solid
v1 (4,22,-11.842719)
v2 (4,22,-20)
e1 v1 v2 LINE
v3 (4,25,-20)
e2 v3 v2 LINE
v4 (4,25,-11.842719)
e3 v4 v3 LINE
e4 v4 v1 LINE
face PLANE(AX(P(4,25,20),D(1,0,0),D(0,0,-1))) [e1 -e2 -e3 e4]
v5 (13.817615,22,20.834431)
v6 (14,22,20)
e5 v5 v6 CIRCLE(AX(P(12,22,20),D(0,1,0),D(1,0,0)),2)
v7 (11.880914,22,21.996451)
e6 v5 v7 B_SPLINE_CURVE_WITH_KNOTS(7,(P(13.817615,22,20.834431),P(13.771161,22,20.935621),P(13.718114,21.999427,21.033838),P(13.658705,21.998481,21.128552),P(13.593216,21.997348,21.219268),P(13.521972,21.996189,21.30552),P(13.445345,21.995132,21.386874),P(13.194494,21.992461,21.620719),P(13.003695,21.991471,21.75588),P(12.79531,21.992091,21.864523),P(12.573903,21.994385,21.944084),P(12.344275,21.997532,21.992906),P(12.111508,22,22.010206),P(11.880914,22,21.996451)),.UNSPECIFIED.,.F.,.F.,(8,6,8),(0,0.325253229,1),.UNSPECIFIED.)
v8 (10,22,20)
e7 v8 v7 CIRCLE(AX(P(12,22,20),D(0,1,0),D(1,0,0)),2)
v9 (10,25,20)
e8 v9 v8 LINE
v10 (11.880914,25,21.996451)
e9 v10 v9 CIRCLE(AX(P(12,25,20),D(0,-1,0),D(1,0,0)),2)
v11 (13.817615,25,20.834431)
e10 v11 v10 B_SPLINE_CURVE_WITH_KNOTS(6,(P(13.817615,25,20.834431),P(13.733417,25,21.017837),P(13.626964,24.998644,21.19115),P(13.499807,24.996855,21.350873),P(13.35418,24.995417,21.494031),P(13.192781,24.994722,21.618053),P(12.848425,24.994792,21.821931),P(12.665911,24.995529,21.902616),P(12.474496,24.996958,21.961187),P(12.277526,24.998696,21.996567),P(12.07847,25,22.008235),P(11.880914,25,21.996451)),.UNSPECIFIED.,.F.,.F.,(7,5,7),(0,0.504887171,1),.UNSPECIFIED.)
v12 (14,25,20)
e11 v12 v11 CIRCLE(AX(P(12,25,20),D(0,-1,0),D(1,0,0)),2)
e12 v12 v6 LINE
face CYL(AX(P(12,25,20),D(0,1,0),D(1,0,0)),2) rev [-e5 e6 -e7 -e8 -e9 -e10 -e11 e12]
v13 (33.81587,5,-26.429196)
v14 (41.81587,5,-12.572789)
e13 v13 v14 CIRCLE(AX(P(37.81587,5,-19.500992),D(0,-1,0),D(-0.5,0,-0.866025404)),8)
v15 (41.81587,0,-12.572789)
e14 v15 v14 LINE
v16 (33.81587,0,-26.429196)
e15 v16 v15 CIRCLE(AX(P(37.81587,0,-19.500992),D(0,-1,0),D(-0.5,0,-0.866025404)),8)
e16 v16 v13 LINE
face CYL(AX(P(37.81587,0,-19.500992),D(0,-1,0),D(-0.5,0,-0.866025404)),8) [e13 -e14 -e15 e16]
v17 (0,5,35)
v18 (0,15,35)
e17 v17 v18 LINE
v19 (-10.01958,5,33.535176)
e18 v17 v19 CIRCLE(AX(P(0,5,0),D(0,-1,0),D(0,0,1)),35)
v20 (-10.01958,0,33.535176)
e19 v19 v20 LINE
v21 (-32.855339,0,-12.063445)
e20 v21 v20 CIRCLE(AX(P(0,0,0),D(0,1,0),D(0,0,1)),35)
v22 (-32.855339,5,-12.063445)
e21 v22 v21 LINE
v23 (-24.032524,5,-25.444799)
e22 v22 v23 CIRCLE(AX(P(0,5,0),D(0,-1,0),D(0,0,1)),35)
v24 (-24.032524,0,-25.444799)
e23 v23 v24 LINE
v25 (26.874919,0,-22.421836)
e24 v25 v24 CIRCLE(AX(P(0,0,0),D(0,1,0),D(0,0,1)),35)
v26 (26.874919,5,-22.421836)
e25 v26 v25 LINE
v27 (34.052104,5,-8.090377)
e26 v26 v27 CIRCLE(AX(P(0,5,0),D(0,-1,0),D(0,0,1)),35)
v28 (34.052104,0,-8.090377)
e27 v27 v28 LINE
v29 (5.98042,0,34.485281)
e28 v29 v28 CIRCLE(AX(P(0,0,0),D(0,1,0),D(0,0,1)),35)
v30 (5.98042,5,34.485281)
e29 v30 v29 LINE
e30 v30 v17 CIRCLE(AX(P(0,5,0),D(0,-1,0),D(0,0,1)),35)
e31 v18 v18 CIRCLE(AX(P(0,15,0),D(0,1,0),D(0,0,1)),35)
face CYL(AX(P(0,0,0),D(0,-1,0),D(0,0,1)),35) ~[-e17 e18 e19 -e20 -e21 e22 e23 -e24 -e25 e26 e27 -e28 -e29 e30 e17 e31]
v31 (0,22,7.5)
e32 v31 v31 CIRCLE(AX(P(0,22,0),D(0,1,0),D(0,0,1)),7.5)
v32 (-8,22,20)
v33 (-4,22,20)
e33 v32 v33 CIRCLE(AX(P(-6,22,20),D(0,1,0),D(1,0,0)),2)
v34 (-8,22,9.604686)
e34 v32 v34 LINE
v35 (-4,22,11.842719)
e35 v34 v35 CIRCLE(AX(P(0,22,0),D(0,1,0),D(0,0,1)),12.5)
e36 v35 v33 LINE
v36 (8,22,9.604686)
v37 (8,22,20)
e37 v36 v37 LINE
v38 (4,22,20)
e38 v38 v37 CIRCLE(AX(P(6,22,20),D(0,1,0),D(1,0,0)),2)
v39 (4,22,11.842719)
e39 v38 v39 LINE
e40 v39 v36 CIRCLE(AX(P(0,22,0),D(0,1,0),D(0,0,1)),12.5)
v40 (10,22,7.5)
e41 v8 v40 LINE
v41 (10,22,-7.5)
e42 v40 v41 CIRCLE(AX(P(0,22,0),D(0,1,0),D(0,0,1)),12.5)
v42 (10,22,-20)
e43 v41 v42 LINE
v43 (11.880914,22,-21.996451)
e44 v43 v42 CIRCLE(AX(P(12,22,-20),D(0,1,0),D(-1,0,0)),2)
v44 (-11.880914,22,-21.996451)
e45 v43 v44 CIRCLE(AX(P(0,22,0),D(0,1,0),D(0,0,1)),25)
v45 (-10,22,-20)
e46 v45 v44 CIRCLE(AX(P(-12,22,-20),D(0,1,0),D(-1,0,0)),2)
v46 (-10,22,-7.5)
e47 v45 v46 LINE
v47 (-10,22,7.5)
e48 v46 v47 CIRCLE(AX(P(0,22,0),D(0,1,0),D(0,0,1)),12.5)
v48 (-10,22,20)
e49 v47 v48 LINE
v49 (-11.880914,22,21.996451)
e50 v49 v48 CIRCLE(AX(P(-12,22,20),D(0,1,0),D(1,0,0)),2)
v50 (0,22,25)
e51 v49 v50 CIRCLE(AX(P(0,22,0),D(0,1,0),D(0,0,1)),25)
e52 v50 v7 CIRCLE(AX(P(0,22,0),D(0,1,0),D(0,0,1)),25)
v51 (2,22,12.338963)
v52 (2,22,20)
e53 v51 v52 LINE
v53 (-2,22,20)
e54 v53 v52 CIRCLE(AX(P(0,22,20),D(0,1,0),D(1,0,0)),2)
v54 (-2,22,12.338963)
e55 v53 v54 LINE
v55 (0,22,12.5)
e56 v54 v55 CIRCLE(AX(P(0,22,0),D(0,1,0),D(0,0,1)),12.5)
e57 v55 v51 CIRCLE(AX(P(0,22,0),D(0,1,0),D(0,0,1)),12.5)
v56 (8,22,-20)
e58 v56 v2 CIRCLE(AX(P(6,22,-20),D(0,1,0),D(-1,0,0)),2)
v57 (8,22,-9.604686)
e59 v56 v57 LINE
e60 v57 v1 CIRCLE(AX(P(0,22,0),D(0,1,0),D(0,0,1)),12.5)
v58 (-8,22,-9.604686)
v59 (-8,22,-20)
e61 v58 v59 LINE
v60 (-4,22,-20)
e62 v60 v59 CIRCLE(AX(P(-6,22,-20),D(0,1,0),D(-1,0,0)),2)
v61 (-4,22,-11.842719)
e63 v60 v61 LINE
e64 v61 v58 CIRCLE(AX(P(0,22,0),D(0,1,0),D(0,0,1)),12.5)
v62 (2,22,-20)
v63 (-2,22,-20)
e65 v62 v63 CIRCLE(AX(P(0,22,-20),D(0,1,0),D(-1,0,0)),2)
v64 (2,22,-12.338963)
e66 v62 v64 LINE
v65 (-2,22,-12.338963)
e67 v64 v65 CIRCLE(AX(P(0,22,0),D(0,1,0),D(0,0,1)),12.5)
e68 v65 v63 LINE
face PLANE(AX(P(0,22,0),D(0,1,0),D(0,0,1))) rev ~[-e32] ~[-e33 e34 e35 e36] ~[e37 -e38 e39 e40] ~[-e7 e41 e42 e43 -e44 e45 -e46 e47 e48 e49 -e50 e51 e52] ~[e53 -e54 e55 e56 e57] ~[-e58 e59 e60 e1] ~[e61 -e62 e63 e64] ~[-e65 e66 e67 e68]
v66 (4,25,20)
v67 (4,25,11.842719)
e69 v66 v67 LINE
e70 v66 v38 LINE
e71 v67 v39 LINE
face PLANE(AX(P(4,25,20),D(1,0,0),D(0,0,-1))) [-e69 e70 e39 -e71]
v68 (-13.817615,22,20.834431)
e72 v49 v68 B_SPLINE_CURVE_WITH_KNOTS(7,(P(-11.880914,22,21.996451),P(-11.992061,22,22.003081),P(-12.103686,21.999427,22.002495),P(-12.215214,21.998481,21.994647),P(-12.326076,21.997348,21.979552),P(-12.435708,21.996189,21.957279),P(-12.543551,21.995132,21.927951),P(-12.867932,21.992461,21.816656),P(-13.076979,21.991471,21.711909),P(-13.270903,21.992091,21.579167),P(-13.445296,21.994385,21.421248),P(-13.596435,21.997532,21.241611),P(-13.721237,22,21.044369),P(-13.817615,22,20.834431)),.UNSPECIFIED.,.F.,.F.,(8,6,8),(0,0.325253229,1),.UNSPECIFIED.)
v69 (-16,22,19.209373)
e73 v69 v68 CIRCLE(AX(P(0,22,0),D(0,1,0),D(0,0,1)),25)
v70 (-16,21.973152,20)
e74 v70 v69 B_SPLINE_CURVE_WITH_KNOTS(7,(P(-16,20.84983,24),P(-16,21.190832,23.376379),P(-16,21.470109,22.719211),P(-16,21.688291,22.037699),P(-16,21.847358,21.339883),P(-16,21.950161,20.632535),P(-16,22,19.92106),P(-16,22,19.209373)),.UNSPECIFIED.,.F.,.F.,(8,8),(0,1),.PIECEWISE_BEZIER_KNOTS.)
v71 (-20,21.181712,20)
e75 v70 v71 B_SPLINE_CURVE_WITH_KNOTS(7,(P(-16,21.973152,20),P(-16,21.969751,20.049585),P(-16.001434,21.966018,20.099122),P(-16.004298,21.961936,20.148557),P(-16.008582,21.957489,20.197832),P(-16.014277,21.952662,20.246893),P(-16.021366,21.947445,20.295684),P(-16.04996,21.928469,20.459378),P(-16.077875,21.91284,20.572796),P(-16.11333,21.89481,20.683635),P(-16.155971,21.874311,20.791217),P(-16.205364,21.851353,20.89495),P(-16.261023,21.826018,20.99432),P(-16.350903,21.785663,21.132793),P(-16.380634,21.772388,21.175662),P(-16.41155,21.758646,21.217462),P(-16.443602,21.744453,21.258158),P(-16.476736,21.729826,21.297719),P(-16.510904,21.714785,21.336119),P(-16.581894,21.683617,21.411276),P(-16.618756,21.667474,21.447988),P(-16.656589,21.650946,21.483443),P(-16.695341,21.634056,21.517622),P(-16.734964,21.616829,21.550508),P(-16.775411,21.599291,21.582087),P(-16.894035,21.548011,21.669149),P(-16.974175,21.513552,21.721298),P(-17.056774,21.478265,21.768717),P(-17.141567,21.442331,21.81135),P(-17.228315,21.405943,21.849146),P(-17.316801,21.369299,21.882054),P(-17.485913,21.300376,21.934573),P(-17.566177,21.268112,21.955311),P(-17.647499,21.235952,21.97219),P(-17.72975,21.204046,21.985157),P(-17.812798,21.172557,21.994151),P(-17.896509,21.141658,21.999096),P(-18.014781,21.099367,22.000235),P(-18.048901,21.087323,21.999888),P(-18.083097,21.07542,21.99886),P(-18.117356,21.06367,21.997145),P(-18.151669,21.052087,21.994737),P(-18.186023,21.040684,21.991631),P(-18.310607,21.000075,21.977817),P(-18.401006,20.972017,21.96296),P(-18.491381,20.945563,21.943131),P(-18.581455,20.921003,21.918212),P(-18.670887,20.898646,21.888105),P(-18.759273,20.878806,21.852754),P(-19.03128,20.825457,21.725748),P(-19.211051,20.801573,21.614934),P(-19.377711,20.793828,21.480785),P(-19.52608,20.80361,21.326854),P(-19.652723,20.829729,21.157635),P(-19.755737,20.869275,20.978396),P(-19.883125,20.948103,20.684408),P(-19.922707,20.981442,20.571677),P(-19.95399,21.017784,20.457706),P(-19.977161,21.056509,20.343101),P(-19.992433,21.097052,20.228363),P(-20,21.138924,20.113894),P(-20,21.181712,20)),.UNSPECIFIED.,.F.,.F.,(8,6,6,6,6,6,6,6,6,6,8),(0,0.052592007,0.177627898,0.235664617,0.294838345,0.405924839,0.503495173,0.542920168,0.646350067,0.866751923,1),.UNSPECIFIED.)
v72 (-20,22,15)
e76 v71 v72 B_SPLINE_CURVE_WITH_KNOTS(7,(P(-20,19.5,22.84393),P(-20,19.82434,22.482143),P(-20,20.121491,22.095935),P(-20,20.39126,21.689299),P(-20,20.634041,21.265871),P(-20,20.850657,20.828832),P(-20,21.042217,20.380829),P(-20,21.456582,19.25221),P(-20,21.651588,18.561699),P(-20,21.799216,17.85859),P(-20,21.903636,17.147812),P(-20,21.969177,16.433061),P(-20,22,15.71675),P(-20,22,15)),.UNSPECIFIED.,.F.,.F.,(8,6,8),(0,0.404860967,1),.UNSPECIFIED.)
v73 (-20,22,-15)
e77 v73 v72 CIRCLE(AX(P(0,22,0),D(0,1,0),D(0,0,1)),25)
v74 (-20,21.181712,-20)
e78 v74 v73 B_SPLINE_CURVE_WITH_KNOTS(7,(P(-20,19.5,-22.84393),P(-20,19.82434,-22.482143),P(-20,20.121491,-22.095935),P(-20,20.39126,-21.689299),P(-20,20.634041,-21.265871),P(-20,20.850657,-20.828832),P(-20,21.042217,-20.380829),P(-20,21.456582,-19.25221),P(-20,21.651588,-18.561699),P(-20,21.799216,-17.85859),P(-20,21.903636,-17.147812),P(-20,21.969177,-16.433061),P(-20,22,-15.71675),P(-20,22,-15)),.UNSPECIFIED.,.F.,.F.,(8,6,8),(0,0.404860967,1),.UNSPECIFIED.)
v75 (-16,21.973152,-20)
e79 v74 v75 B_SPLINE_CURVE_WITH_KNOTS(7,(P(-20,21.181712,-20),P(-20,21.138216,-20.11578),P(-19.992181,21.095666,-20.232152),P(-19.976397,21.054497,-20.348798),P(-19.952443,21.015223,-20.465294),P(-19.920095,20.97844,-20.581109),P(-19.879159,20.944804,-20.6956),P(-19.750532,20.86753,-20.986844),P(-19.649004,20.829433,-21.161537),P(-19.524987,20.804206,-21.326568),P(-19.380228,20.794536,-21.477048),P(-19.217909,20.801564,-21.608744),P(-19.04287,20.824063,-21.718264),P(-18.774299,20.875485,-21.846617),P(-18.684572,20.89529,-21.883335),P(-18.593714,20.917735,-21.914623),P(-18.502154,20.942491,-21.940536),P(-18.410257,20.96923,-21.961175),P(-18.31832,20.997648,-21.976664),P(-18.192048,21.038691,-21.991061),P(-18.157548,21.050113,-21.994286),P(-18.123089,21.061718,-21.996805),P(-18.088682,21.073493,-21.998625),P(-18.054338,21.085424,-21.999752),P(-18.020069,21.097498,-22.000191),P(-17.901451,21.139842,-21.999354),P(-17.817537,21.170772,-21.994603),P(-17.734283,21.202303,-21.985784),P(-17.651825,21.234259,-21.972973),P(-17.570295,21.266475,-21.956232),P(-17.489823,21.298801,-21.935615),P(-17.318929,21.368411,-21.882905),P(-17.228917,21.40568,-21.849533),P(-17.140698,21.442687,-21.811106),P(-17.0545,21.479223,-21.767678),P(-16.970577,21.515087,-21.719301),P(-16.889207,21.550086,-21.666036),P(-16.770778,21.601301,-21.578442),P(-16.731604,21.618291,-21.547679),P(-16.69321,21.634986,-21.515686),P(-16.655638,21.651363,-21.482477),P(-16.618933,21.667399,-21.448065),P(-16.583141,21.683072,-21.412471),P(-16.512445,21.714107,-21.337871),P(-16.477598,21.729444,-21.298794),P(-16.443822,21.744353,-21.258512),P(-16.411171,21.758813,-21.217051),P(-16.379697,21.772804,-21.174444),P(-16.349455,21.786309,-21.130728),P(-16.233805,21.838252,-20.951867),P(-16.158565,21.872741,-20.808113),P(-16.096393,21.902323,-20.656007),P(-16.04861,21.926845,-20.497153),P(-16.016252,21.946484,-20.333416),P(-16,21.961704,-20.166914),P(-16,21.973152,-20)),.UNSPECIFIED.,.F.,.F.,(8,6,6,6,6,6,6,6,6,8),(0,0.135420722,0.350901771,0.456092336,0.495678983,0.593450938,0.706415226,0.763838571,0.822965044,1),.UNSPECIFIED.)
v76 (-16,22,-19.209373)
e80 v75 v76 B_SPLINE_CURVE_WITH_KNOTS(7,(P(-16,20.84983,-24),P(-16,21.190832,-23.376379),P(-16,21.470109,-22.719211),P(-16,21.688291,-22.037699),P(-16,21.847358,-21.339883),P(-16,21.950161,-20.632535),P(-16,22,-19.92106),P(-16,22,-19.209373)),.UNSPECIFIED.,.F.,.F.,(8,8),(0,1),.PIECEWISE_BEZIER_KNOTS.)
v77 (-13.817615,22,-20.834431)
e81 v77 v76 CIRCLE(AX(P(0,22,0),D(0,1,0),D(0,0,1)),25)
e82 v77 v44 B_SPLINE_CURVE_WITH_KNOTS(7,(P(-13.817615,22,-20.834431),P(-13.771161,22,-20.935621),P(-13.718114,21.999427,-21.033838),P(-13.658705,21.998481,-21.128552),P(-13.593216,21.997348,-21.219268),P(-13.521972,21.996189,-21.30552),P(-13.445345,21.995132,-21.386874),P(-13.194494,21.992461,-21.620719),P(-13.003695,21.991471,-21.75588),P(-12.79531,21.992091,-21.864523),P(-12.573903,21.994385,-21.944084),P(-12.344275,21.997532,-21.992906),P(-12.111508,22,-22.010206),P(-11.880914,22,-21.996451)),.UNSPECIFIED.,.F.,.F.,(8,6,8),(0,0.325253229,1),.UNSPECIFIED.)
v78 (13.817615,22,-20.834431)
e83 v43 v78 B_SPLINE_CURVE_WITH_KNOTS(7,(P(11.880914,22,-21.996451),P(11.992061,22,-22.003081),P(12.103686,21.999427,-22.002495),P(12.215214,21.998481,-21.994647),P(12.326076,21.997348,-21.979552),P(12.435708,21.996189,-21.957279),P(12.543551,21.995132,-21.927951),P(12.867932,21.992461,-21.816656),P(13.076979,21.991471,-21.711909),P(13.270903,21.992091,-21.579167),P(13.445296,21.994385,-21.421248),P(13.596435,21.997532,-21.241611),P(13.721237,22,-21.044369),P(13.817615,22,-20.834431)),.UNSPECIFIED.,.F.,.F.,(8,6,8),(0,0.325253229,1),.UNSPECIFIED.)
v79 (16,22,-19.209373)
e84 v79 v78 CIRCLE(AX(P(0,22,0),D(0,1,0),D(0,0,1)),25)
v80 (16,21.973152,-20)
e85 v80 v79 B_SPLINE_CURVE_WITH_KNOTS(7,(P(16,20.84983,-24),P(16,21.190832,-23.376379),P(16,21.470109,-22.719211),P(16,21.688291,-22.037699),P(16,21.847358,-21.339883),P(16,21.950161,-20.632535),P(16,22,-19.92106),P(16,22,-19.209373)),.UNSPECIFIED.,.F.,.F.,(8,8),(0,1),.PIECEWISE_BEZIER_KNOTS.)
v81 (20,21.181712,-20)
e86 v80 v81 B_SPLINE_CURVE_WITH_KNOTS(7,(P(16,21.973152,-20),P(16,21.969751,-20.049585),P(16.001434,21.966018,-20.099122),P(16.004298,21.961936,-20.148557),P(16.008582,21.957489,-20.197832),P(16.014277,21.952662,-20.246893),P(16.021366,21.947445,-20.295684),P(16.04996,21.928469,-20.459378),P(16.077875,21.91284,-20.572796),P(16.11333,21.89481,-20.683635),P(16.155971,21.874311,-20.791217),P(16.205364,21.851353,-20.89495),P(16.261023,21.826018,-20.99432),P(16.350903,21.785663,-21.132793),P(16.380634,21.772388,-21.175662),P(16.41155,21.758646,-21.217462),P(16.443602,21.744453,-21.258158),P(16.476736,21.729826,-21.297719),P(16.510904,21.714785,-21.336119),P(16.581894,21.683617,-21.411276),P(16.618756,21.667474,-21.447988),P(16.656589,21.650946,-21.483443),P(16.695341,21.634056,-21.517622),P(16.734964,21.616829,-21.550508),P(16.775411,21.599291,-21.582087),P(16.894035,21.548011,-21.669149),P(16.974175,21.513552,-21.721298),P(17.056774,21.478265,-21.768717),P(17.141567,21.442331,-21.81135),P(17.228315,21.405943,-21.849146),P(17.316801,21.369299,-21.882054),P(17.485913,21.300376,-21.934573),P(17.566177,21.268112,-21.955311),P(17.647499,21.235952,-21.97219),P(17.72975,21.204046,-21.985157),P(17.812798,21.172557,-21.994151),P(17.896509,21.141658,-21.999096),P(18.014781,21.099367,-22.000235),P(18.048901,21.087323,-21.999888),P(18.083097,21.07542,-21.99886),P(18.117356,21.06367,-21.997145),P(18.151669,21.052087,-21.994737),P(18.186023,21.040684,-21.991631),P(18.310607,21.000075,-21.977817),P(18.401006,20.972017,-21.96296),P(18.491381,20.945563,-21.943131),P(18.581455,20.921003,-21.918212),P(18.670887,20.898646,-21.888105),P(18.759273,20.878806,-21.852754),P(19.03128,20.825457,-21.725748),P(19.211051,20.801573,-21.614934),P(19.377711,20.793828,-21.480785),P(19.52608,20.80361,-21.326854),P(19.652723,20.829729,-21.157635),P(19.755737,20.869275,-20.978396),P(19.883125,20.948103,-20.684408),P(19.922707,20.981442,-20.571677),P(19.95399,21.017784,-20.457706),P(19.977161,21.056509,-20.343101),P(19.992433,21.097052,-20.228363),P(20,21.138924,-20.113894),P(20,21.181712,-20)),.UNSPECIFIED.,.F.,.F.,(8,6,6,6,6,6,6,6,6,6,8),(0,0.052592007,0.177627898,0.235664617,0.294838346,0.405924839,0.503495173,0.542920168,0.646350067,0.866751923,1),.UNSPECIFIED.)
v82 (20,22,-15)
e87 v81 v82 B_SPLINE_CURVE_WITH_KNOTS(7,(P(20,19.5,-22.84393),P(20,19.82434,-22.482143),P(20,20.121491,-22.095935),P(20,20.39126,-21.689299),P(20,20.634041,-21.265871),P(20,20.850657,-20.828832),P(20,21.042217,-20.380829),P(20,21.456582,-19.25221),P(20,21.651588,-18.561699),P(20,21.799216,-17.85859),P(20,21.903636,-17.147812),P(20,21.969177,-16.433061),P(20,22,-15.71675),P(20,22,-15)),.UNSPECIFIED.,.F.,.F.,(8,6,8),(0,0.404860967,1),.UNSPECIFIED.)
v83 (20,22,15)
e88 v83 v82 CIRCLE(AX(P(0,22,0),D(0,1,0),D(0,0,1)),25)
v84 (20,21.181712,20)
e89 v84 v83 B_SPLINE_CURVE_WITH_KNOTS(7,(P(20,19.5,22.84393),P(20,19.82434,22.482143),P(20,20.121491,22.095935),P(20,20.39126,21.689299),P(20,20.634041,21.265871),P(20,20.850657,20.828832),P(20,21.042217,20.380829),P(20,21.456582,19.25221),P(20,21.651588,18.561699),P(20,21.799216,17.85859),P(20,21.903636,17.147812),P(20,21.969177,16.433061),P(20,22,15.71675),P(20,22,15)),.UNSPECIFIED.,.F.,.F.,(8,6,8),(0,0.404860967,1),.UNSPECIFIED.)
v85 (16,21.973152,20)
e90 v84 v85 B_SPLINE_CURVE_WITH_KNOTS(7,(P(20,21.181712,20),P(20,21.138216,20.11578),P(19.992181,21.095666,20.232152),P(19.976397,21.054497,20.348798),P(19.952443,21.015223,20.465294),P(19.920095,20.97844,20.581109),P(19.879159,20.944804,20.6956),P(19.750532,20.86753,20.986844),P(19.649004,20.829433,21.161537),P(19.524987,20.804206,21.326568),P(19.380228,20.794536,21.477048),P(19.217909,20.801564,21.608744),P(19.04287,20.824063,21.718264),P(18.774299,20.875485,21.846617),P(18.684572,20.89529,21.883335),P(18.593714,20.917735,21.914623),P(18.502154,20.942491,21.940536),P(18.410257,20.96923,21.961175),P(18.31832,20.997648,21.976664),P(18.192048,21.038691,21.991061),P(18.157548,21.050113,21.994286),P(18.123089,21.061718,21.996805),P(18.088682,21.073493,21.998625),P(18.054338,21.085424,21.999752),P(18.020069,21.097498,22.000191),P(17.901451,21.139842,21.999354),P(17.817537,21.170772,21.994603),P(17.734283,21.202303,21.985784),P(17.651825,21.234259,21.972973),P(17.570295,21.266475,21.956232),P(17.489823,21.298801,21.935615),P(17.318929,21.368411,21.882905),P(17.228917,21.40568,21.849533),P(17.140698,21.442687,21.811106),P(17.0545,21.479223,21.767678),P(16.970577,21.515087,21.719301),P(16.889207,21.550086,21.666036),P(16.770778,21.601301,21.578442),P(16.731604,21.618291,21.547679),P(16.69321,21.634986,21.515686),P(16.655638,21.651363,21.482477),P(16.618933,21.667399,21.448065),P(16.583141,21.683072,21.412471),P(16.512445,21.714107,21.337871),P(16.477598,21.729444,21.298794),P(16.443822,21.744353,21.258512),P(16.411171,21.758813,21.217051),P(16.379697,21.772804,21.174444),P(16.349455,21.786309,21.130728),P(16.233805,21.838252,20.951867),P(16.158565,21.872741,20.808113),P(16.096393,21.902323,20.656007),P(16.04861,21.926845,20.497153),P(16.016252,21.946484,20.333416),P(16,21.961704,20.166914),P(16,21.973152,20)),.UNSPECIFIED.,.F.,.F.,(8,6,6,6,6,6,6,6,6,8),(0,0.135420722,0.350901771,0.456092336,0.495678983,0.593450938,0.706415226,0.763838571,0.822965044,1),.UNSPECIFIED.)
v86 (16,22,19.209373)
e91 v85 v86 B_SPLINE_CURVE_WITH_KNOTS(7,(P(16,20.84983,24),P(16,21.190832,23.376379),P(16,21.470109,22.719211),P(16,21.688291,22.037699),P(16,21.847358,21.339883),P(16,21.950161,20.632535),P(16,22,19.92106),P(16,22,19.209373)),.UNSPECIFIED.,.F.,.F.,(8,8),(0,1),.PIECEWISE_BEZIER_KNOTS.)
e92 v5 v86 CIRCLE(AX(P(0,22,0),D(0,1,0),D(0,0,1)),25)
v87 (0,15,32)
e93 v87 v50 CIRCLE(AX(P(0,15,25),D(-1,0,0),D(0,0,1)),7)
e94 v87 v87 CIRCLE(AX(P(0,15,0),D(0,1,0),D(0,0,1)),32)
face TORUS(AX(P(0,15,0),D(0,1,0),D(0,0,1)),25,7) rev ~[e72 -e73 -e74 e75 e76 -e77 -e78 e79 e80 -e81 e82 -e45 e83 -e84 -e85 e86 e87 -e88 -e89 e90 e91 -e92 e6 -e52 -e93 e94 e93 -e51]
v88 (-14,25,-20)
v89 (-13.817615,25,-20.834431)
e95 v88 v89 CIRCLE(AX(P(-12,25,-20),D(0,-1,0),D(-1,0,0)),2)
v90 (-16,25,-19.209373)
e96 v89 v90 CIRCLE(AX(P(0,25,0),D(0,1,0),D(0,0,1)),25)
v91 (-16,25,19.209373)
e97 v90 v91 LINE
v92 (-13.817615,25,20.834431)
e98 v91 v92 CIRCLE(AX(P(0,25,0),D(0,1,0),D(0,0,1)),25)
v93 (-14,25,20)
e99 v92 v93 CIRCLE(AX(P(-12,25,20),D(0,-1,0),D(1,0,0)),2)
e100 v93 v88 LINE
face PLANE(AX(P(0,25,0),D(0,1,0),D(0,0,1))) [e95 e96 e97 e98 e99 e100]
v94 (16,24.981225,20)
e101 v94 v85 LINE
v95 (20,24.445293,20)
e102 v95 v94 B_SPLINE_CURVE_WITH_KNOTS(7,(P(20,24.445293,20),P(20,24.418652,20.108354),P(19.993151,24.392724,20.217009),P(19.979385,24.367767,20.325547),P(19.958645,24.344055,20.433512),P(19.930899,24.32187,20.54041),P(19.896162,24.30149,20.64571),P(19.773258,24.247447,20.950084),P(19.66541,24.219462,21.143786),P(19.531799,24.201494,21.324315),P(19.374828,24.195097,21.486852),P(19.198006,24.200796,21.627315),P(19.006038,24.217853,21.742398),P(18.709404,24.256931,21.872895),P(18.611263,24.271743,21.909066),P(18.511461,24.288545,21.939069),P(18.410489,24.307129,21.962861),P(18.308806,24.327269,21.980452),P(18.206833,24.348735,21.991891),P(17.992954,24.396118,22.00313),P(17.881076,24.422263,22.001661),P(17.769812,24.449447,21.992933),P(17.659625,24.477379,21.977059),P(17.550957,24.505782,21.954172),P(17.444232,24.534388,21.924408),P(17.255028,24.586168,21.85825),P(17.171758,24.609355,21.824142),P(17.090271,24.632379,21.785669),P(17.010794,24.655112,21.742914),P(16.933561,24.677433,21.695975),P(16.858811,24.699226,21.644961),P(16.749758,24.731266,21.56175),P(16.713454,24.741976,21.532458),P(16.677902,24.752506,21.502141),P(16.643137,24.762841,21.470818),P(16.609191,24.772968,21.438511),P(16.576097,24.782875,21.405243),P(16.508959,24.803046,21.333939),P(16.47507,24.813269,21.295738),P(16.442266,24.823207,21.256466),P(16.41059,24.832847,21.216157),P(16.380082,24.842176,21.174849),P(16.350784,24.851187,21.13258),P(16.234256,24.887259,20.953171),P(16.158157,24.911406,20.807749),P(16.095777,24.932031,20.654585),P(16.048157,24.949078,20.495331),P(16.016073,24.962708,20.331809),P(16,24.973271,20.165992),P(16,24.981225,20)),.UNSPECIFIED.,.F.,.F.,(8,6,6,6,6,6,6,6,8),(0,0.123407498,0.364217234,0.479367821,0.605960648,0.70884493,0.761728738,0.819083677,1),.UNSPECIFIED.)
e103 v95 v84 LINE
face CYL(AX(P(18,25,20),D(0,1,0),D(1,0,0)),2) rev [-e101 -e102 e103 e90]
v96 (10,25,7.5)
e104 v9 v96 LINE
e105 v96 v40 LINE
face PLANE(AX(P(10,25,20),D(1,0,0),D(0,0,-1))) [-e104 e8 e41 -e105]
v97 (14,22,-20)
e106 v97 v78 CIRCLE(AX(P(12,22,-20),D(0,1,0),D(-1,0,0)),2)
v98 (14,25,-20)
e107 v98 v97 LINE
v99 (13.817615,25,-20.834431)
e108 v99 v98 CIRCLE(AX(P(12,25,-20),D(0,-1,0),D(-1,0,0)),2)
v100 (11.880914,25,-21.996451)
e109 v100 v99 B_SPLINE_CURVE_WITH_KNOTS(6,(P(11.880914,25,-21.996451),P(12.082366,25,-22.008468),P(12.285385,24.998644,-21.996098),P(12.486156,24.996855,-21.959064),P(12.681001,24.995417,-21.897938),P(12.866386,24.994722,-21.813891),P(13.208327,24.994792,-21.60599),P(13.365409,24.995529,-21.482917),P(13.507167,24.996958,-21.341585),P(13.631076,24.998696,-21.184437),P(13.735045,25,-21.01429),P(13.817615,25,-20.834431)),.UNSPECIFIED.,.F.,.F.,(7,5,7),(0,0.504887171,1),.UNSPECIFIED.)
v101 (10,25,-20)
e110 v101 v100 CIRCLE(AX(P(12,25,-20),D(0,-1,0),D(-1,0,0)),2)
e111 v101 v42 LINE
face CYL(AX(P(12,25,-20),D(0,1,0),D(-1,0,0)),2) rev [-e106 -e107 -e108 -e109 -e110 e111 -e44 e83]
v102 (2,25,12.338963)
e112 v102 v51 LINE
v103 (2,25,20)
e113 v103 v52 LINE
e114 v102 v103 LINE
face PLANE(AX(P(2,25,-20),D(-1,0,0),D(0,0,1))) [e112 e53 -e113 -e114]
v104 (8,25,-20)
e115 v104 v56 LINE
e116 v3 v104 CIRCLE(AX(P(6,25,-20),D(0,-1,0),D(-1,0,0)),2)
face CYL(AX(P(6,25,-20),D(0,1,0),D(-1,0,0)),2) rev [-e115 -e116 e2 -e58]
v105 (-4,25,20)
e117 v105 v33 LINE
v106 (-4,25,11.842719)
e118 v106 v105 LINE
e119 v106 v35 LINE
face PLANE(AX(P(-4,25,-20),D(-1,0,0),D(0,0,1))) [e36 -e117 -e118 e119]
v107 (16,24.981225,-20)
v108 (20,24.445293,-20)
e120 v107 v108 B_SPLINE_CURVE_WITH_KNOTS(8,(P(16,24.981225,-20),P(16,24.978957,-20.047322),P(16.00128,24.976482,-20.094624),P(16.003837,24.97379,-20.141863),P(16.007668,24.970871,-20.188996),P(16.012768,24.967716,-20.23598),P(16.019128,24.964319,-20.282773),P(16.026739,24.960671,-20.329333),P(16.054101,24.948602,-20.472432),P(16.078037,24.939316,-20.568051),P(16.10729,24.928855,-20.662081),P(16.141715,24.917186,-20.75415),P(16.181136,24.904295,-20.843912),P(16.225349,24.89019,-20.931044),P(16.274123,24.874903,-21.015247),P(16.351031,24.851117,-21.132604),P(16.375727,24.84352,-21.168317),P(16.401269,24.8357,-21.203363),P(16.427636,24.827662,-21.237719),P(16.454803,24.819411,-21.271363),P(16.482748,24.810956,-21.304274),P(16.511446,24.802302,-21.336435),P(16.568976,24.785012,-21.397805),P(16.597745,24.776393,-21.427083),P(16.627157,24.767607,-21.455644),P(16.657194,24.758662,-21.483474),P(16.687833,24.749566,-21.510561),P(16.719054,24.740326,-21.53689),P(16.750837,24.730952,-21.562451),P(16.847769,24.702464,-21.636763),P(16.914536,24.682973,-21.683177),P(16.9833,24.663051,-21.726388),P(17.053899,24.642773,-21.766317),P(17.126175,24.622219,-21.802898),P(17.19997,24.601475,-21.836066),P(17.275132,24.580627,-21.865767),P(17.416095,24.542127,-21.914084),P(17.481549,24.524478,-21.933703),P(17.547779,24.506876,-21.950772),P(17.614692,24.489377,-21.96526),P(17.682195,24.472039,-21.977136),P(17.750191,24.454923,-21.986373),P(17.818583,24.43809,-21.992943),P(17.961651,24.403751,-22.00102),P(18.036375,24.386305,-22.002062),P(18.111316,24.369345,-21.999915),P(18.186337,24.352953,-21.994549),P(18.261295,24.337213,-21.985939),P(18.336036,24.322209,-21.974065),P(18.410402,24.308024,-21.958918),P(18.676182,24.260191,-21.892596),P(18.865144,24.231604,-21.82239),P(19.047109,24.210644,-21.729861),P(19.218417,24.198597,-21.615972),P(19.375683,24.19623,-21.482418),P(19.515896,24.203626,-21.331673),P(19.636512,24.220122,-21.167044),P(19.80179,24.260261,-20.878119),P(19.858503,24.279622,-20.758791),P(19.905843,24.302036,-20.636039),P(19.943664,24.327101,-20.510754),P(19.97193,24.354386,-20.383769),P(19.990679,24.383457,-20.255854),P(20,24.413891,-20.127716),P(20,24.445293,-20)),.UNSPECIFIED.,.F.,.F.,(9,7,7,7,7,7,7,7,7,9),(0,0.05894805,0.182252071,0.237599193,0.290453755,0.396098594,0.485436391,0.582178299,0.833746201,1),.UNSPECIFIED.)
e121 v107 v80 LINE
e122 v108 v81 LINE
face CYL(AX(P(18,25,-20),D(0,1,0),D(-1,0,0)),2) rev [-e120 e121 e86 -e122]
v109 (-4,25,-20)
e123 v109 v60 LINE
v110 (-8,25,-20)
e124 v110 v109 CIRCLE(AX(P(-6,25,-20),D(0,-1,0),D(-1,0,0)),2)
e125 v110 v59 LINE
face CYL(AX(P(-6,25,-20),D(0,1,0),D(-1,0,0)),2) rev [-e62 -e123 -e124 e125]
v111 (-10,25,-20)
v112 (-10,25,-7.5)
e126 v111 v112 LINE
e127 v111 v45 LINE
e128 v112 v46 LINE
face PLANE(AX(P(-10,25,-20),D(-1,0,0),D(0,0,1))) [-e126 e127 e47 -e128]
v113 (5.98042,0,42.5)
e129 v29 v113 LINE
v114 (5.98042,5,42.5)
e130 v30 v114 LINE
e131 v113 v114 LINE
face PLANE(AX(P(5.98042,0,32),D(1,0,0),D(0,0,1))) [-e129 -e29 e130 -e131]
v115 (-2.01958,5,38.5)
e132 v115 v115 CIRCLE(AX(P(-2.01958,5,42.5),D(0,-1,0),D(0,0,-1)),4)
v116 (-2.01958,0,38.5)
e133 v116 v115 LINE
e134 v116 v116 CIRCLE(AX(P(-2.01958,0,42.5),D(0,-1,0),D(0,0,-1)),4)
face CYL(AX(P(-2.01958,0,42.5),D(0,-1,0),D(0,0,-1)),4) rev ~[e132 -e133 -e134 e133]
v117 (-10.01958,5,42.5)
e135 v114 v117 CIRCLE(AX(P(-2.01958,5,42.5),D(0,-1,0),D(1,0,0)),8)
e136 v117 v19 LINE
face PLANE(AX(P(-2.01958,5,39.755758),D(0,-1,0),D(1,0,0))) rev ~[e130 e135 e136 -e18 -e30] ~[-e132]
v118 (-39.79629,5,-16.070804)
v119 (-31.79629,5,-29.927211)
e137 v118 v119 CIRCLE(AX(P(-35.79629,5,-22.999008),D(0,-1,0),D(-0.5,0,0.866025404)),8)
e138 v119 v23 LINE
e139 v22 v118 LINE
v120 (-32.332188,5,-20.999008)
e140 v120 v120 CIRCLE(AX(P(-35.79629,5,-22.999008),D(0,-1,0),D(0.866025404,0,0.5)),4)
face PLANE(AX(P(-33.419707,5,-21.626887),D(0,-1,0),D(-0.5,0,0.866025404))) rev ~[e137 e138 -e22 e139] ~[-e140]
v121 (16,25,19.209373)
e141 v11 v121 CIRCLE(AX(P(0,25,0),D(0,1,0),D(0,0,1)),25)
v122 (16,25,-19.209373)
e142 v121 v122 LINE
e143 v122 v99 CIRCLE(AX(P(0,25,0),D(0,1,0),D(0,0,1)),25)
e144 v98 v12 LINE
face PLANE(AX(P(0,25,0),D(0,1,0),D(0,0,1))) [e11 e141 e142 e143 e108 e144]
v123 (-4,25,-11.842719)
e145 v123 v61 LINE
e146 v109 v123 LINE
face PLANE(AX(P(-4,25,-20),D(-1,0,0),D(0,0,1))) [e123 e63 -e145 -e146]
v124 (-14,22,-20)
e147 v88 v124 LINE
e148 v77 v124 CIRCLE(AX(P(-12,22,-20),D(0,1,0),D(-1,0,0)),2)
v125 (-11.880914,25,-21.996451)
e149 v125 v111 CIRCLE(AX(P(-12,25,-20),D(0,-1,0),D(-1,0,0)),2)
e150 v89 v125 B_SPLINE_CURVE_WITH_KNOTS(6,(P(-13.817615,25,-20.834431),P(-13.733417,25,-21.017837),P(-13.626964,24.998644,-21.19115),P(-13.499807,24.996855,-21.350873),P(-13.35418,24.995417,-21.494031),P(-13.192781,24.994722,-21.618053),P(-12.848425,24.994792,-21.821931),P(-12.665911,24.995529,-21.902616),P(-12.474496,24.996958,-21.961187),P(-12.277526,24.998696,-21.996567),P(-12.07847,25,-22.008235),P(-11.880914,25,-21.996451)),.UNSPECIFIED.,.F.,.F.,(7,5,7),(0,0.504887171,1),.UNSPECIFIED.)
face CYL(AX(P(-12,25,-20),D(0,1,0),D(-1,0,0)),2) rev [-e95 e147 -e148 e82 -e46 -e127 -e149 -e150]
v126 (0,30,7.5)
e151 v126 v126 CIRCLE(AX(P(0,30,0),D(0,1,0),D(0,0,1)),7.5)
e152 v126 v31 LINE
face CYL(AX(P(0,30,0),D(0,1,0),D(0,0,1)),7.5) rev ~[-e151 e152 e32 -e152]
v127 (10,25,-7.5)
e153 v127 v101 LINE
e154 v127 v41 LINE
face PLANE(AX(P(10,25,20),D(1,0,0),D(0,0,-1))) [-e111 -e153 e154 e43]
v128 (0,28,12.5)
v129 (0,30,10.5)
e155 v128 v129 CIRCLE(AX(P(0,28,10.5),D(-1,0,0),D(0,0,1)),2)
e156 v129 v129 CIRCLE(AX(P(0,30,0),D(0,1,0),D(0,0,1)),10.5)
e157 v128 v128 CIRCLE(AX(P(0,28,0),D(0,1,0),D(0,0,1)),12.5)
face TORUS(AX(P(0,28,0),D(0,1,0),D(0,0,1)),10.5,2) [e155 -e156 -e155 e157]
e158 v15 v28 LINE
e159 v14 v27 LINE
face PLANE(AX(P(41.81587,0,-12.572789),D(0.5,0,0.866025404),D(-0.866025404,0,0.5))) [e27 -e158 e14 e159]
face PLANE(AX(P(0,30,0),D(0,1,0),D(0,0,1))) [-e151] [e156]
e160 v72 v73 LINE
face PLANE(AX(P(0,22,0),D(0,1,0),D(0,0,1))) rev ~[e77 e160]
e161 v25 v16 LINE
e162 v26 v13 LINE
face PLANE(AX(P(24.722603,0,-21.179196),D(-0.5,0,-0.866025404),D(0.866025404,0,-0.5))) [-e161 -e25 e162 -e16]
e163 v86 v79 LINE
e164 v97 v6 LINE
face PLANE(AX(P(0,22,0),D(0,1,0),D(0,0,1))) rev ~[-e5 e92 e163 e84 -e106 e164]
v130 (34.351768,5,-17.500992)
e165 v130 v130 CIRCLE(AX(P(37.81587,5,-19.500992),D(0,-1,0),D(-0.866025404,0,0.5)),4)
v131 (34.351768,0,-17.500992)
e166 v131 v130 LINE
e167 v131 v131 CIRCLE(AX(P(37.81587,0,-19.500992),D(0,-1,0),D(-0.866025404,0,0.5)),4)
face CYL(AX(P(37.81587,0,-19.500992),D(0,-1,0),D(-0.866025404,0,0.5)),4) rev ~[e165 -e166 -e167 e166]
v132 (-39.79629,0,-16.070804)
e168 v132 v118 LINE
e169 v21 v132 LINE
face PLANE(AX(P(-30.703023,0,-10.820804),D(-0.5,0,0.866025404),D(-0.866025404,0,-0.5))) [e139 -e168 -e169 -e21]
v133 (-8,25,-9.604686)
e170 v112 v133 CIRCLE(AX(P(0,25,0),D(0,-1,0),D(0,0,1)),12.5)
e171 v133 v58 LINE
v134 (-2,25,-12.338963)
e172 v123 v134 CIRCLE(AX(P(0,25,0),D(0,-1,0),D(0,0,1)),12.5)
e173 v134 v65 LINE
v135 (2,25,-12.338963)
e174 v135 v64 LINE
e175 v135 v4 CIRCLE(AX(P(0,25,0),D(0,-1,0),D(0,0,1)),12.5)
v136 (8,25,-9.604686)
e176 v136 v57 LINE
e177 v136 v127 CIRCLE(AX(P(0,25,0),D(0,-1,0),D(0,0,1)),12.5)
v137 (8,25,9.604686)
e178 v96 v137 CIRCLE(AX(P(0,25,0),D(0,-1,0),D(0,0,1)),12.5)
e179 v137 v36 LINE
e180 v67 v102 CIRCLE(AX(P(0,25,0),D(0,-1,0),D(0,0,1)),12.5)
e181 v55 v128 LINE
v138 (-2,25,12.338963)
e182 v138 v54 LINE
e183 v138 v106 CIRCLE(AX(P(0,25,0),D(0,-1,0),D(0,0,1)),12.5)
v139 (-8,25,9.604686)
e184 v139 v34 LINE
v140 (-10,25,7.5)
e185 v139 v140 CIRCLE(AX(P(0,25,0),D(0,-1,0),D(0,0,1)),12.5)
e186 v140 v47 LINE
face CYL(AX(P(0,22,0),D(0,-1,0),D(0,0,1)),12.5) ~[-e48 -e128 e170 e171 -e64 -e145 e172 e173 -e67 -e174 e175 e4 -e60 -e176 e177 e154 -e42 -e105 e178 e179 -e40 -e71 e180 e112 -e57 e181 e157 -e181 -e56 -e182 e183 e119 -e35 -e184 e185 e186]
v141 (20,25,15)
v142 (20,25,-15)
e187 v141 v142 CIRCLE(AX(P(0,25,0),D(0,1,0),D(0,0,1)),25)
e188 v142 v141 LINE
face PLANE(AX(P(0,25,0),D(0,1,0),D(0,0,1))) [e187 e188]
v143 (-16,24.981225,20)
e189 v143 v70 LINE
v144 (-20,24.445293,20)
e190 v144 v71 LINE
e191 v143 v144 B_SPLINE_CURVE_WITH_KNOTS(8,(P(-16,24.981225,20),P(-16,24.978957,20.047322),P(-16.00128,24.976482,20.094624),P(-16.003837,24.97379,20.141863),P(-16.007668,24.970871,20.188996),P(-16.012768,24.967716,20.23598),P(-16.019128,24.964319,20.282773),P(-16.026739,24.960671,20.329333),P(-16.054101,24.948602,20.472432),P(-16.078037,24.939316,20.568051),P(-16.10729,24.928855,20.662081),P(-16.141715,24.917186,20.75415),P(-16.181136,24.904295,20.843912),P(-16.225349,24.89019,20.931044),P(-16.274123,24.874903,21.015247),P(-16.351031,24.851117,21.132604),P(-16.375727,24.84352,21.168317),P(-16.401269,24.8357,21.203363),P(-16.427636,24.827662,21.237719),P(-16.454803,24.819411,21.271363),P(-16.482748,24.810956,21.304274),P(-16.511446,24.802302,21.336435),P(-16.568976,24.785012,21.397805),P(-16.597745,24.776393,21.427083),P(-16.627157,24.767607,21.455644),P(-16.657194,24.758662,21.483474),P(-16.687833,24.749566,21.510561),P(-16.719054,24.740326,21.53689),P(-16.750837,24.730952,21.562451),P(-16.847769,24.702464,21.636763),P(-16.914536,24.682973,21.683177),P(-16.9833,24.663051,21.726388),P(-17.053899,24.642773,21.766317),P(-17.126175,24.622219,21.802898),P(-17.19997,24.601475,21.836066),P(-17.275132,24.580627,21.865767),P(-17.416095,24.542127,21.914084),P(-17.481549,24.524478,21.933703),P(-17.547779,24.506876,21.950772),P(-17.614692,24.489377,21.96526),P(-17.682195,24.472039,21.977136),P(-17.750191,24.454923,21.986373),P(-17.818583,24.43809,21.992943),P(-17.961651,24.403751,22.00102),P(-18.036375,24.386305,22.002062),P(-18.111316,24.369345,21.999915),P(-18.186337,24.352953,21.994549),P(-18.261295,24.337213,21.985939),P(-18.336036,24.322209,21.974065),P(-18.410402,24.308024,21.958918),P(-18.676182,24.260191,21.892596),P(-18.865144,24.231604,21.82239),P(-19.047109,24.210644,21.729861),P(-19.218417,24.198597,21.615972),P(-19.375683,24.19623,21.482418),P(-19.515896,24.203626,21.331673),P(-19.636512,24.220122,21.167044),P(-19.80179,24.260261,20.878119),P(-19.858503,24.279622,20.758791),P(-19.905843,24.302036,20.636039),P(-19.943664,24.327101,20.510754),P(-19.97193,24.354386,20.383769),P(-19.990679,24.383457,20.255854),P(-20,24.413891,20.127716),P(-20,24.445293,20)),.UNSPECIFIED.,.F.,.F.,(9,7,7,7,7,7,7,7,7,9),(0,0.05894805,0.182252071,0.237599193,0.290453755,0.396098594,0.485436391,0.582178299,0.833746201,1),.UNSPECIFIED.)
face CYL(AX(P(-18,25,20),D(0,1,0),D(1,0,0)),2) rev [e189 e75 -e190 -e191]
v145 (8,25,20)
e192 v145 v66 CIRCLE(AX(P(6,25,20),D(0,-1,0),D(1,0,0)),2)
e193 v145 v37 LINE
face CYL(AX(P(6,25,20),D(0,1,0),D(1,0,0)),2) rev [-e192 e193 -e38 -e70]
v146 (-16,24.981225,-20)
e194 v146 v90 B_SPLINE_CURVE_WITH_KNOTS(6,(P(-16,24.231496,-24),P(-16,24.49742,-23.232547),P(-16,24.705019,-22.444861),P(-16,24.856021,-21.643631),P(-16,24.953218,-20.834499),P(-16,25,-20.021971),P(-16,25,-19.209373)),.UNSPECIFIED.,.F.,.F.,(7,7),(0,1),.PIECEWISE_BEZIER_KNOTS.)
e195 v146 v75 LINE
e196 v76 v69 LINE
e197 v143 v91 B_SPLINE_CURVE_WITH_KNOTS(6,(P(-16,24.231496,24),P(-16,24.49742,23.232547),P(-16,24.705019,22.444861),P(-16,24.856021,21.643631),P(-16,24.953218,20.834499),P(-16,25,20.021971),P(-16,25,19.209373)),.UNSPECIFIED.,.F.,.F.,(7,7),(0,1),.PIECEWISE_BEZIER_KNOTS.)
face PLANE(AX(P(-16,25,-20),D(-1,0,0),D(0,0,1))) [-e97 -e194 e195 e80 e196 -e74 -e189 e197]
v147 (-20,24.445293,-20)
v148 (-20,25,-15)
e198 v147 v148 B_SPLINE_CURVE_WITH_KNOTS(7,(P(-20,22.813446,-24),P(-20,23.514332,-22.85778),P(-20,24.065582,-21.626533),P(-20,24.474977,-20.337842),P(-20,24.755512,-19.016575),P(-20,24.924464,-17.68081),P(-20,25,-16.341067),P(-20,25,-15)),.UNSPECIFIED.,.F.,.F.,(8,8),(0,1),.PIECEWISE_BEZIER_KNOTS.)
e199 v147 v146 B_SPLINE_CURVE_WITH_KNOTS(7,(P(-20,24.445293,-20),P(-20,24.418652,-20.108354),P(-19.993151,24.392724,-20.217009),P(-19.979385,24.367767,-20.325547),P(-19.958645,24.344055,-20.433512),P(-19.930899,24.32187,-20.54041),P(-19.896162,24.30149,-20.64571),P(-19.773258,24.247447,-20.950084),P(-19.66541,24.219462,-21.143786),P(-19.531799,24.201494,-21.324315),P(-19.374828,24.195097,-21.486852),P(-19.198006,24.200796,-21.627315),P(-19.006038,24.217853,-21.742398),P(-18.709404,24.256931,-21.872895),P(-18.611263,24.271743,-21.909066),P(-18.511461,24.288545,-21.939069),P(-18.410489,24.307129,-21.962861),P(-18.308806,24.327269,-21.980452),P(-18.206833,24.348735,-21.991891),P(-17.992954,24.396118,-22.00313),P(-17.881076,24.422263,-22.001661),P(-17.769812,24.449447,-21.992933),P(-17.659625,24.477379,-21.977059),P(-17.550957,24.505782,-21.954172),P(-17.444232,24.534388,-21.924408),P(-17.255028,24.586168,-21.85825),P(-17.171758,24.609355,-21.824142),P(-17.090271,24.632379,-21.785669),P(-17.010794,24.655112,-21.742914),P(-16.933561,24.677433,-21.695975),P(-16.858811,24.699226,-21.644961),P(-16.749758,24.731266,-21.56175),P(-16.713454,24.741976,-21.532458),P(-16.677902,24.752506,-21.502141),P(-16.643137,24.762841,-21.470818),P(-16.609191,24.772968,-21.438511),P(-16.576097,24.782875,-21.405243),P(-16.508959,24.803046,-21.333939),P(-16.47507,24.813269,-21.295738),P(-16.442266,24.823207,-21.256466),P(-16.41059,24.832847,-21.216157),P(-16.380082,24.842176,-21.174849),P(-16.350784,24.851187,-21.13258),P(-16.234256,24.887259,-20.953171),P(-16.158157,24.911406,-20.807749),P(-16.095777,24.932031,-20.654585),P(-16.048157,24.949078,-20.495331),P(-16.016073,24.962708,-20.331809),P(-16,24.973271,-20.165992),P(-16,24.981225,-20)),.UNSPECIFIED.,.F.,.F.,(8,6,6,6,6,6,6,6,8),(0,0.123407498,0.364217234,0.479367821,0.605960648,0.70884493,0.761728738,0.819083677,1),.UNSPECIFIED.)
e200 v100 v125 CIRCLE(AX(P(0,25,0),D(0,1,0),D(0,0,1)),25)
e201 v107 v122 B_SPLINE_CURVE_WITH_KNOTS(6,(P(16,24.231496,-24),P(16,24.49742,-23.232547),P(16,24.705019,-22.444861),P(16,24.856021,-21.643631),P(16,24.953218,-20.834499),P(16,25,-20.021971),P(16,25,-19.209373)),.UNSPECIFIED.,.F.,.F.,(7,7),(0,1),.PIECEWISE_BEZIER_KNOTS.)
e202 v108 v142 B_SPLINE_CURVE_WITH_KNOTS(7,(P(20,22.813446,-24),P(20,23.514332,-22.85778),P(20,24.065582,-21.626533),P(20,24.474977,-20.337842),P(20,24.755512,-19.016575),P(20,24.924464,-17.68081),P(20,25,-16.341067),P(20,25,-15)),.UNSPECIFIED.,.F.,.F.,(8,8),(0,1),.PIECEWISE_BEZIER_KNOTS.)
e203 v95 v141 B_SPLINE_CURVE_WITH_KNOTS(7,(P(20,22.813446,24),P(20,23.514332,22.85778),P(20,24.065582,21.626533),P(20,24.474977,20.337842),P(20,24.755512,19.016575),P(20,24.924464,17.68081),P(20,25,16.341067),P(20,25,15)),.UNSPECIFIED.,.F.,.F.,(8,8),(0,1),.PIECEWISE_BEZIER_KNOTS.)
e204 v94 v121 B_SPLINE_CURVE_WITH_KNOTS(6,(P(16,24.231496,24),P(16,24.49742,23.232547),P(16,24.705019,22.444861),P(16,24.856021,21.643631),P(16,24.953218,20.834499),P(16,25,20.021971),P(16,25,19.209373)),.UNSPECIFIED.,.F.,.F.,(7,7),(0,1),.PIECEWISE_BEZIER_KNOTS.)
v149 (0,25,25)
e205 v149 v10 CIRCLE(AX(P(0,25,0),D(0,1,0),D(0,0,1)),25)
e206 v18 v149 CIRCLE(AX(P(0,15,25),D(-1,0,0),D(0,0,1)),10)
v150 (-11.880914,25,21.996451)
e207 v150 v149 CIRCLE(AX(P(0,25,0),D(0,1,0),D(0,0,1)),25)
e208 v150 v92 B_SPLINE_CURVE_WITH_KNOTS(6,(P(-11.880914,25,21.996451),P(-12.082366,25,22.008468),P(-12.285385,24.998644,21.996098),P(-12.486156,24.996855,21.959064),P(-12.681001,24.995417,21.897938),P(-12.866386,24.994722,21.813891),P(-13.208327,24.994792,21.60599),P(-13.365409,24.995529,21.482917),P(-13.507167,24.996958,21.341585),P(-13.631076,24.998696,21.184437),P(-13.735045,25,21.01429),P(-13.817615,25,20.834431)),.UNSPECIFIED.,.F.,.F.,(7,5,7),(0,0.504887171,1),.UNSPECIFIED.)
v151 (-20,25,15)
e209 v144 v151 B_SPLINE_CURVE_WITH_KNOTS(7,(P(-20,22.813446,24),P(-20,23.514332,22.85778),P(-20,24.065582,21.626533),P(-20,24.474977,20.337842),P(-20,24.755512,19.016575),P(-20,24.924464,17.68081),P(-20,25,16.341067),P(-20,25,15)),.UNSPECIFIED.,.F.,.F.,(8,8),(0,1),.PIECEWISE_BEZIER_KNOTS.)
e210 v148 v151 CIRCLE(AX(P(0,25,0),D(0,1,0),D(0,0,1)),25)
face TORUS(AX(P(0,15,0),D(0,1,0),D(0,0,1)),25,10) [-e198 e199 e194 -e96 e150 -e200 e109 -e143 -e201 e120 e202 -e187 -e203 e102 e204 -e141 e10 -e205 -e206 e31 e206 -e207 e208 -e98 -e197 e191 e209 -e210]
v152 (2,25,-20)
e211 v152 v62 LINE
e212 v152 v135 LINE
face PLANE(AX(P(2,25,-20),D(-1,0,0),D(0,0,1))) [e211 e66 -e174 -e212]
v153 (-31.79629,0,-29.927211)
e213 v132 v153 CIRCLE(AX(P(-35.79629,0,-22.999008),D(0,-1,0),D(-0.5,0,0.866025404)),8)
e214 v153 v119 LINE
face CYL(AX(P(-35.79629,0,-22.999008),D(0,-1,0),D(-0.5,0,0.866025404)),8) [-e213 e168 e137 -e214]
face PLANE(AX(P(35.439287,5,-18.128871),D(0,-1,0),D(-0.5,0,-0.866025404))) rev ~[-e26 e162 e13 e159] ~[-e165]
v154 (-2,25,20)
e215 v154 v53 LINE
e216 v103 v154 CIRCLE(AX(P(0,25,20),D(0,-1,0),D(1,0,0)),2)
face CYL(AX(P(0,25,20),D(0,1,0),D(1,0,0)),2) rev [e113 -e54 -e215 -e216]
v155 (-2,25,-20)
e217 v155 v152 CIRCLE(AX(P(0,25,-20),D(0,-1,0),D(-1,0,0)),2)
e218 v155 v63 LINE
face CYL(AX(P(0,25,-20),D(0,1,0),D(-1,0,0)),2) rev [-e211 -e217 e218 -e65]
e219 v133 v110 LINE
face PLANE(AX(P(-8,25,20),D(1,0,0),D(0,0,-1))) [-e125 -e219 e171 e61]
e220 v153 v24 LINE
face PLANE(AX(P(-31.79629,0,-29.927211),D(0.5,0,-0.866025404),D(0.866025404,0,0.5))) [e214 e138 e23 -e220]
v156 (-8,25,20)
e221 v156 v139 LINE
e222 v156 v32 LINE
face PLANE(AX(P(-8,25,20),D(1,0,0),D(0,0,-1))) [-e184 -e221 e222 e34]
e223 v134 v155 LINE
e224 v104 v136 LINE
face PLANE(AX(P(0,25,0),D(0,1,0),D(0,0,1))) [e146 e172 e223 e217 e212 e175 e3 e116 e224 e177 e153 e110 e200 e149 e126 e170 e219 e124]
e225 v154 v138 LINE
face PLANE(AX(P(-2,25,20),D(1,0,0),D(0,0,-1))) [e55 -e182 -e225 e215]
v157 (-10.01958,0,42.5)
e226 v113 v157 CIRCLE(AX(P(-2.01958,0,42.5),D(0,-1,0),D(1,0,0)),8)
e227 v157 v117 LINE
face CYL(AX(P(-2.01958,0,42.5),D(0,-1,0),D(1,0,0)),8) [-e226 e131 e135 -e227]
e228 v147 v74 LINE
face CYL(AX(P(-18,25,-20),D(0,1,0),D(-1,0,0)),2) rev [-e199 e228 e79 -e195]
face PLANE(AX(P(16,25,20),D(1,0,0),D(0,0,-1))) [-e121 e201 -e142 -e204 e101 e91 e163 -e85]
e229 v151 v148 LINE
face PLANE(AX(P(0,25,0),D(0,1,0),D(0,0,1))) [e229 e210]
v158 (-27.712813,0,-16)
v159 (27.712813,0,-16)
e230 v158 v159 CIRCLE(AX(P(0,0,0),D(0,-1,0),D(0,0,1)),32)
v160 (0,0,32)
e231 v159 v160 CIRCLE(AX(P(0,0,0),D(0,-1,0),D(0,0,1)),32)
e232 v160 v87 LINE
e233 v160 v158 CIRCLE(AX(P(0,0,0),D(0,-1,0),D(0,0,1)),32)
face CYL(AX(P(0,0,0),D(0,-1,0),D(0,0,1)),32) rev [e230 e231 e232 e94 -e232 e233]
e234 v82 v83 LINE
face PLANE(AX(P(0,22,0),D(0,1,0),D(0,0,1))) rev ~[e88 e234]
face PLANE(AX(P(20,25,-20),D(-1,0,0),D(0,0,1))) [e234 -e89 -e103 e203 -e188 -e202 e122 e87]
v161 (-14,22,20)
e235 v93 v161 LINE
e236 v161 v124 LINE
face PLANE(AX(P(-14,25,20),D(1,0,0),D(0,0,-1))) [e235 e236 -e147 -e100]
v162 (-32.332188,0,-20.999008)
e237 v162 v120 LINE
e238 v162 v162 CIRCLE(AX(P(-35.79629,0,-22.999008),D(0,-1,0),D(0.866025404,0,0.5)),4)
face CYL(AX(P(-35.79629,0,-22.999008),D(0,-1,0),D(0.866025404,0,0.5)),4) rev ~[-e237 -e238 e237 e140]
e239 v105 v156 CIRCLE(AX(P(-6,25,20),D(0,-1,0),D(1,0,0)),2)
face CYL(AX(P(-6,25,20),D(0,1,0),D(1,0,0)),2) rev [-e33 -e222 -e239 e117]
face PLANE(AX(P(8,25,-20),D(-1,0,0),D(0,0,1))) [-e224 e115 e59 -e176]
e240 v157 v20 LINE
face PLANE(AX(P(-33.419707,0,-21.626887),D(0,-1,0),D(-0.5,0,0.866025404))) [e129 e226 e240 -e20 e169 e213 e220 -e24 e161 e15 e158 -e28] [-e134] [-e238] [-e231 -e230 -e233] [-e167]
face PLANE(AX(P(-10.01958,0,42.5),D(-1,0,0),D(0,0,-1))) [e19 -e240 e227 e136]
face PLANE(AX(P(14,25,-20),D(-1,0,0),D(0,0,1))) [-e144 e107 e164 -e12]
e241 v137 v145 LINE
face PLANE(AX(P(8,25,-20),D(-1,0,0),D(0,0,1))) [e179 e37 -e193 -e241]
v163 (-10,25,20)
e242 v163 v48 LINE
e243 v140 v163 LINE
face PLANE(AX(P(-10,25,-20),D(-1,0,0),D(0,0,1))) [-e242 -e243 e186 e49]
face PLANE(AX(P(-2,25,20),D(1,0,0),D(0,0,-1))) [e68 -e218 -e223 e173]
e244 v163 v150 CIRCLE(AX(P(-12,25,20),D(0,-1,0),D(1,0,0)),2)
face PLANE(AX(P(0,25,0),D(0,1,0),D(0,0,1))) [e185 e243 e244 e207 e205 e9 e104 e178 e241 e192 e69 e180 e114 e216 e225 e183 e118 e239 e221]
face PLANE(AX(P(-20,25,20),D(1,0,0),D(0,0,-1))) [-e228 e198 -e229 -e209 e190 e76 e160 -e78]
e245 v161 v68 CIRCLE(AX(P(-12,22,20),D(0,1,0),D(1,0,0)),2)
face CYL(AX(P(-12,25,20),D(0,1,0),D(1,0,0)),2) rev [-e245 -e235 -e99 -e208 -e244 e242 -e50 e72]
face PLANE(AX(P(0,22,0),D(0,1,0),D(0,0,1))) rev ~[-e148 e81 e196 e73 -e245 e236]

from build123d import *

# Parameters (mm, degrees)
SKETCH1_R                = 35
BOSS_EXTRUDE1_DEPTH      = 25
FILLET1_R                = 10
SHELL1_T                 = -3
SKETCH2_R                = 4
BOSS_EXTRUDE2_DEPTH      = 5
CIRPATTERN1_COUNT        = 3
CUT_EXTRUDE2_DEPTH       = 5
LPATTERN2_COUNT          = 7
LPATTERN2_PITCH          = 6
BOSS_EXTRUDE3_DEPTH      = 5
BOSS_EXTRUDE3_DEPTH_BACK = 3
SKETCH8_R                = 12.5
FILLET2_R                = 2
SKETCH9_R                = 7.5
CUT_EXTRUDE3_DEPTH       = 75.49391866


with BuildPart() as part:
    # Sketch1 → Boss-Extrude1 (new body)
    with BuildSketch(Plane(origin=(0, 0, 0), x_dir=(1, 0, 0), z_dir=(0, 1, 0))):
        with Locations(Location((0, 0, 0), (0, 0, 270))):
            Circle(SKETCH1_R)
    extrude(amount=BOSS_EXTRUDE1_DEPTH)

    # Fillet1
    fillet1_edges = [part.edges().sort_by_distance(p)[0] for p in [
        (0, 25, -35),
    ]]
    fillet(fillet1_edges, radius=FILLET1_R)

    # Shell1
    shell1_openings = [part.faces().sort_by_distance(p)[0] for p in [
        (0, 0, 0),
    ]]
    offset(amount=SHELL1_T, openings=shell1_openings, kind=Kind.INTERSECTION)

    # Sketch2 → Boss-Extrude2 (add)
    with BuildSketch(Plane.XZ):
        with BuildLine():
            Line((-10.019580099, 42.5), (-10.019580099, 32))
            Line((-10.019580099, 32), (5.980419901, 32))
            Line((5.980419901, 32), (5.980419901, 42.5))
            ThreePointArc((5.980419901, 42.5), (-2.019580099, 50.5), (-10.019580099, 42.5))
        make_face()
        with Locations(Location((-2.019580099, 42.5, 0), (0, 0, 270))):
            Circle(SKETCH2_R, mode=Mode.SUBTRACT)
    boss_extrude2 = extrude(amount=-BOSS_EXTRUDE2_DEPTH)

    # CirPattern1: Boss-Extrude2 ×3 about axis
    cirpattern1_axis = Axis((0, 0, 0), (0, 1, 0))
    for i in range(1, CIRPATTERN1_COUNT):
        add(boss_extrude2.rotate(cirpattern1_axis, i * 360 / CIRPATTERN1_COUNT))

    # Sketch3 → Cut-Extrude2 (cut)
    with BuildSketch(Plane(origin=(0, 25, 0), x_dir=(1, 0, 0), z_dir=(0, 1, 0))):
        with BuildLine():
            Line((-16, 20), (-16, -20))
            ThreePointArc((-16, -20), (-18, -22), (-20, -20))
            Line((-20, -20), (-20, 20))
            ThreePointArc((-20, 20), (-18, 22), (-16, 20))
        make_face()
    cut_extrude2 = extrude(amount=-CUT_EXTRUDE2_DEPTH, mode=Mode.SUBTRACT)

    # LPattern2: Cut-Extrude2 ×7
    with Locations(*[(i * LPATTERN2_PITCH, 0, 0) for i in range(1, LPATTERN2_COUNT)]):
        add(cut_extrude2, mode=Mode.SUBTRACT)

    # Sketch8 → Boss-Extrude3 (add, two sides: drawn at the far end of the back side and taken through both)
    with BuildSketch(Plane(origin=(0, 25, 0), x_dir=(1, 0, 0), z_dir=(0, 1, 0)).offset(-BOSS_EXTRUDE3_DEPTH_BACK)):
        with Locations(Location((0, 0, 0), (0, 0, 270))):
            Circle(SKETCH8_R)
    extrude(amount=BOSS_EXTRUDE3_DEPTH + BOSS_EXTRUDE3_DEPTH_BACK)

    # Fillet2
    fillet2_edges = [part.edges().sort_by_distance(p)[0] for p in [
        (0, 30, -12.5),
    ]]
    fillet(fillet2_edges, radius=FILLET2_R)

    # Sketch9 → Cut-Extrude3 (cut, through all)
    with BuildSketch(Plane(origin=(0, 30, 0), x_dir=(1, 0, 0), z_dir=(0, 1, 0))):
        with Locations(Location((0, 0, 0), (0, 0, 270))):
            Circle(SKETCH9_R)
    extrude(amount=-CUT_EXTRUDE3_DEPTH, mode=Mode.SUBTRACT)


solid = part.part
